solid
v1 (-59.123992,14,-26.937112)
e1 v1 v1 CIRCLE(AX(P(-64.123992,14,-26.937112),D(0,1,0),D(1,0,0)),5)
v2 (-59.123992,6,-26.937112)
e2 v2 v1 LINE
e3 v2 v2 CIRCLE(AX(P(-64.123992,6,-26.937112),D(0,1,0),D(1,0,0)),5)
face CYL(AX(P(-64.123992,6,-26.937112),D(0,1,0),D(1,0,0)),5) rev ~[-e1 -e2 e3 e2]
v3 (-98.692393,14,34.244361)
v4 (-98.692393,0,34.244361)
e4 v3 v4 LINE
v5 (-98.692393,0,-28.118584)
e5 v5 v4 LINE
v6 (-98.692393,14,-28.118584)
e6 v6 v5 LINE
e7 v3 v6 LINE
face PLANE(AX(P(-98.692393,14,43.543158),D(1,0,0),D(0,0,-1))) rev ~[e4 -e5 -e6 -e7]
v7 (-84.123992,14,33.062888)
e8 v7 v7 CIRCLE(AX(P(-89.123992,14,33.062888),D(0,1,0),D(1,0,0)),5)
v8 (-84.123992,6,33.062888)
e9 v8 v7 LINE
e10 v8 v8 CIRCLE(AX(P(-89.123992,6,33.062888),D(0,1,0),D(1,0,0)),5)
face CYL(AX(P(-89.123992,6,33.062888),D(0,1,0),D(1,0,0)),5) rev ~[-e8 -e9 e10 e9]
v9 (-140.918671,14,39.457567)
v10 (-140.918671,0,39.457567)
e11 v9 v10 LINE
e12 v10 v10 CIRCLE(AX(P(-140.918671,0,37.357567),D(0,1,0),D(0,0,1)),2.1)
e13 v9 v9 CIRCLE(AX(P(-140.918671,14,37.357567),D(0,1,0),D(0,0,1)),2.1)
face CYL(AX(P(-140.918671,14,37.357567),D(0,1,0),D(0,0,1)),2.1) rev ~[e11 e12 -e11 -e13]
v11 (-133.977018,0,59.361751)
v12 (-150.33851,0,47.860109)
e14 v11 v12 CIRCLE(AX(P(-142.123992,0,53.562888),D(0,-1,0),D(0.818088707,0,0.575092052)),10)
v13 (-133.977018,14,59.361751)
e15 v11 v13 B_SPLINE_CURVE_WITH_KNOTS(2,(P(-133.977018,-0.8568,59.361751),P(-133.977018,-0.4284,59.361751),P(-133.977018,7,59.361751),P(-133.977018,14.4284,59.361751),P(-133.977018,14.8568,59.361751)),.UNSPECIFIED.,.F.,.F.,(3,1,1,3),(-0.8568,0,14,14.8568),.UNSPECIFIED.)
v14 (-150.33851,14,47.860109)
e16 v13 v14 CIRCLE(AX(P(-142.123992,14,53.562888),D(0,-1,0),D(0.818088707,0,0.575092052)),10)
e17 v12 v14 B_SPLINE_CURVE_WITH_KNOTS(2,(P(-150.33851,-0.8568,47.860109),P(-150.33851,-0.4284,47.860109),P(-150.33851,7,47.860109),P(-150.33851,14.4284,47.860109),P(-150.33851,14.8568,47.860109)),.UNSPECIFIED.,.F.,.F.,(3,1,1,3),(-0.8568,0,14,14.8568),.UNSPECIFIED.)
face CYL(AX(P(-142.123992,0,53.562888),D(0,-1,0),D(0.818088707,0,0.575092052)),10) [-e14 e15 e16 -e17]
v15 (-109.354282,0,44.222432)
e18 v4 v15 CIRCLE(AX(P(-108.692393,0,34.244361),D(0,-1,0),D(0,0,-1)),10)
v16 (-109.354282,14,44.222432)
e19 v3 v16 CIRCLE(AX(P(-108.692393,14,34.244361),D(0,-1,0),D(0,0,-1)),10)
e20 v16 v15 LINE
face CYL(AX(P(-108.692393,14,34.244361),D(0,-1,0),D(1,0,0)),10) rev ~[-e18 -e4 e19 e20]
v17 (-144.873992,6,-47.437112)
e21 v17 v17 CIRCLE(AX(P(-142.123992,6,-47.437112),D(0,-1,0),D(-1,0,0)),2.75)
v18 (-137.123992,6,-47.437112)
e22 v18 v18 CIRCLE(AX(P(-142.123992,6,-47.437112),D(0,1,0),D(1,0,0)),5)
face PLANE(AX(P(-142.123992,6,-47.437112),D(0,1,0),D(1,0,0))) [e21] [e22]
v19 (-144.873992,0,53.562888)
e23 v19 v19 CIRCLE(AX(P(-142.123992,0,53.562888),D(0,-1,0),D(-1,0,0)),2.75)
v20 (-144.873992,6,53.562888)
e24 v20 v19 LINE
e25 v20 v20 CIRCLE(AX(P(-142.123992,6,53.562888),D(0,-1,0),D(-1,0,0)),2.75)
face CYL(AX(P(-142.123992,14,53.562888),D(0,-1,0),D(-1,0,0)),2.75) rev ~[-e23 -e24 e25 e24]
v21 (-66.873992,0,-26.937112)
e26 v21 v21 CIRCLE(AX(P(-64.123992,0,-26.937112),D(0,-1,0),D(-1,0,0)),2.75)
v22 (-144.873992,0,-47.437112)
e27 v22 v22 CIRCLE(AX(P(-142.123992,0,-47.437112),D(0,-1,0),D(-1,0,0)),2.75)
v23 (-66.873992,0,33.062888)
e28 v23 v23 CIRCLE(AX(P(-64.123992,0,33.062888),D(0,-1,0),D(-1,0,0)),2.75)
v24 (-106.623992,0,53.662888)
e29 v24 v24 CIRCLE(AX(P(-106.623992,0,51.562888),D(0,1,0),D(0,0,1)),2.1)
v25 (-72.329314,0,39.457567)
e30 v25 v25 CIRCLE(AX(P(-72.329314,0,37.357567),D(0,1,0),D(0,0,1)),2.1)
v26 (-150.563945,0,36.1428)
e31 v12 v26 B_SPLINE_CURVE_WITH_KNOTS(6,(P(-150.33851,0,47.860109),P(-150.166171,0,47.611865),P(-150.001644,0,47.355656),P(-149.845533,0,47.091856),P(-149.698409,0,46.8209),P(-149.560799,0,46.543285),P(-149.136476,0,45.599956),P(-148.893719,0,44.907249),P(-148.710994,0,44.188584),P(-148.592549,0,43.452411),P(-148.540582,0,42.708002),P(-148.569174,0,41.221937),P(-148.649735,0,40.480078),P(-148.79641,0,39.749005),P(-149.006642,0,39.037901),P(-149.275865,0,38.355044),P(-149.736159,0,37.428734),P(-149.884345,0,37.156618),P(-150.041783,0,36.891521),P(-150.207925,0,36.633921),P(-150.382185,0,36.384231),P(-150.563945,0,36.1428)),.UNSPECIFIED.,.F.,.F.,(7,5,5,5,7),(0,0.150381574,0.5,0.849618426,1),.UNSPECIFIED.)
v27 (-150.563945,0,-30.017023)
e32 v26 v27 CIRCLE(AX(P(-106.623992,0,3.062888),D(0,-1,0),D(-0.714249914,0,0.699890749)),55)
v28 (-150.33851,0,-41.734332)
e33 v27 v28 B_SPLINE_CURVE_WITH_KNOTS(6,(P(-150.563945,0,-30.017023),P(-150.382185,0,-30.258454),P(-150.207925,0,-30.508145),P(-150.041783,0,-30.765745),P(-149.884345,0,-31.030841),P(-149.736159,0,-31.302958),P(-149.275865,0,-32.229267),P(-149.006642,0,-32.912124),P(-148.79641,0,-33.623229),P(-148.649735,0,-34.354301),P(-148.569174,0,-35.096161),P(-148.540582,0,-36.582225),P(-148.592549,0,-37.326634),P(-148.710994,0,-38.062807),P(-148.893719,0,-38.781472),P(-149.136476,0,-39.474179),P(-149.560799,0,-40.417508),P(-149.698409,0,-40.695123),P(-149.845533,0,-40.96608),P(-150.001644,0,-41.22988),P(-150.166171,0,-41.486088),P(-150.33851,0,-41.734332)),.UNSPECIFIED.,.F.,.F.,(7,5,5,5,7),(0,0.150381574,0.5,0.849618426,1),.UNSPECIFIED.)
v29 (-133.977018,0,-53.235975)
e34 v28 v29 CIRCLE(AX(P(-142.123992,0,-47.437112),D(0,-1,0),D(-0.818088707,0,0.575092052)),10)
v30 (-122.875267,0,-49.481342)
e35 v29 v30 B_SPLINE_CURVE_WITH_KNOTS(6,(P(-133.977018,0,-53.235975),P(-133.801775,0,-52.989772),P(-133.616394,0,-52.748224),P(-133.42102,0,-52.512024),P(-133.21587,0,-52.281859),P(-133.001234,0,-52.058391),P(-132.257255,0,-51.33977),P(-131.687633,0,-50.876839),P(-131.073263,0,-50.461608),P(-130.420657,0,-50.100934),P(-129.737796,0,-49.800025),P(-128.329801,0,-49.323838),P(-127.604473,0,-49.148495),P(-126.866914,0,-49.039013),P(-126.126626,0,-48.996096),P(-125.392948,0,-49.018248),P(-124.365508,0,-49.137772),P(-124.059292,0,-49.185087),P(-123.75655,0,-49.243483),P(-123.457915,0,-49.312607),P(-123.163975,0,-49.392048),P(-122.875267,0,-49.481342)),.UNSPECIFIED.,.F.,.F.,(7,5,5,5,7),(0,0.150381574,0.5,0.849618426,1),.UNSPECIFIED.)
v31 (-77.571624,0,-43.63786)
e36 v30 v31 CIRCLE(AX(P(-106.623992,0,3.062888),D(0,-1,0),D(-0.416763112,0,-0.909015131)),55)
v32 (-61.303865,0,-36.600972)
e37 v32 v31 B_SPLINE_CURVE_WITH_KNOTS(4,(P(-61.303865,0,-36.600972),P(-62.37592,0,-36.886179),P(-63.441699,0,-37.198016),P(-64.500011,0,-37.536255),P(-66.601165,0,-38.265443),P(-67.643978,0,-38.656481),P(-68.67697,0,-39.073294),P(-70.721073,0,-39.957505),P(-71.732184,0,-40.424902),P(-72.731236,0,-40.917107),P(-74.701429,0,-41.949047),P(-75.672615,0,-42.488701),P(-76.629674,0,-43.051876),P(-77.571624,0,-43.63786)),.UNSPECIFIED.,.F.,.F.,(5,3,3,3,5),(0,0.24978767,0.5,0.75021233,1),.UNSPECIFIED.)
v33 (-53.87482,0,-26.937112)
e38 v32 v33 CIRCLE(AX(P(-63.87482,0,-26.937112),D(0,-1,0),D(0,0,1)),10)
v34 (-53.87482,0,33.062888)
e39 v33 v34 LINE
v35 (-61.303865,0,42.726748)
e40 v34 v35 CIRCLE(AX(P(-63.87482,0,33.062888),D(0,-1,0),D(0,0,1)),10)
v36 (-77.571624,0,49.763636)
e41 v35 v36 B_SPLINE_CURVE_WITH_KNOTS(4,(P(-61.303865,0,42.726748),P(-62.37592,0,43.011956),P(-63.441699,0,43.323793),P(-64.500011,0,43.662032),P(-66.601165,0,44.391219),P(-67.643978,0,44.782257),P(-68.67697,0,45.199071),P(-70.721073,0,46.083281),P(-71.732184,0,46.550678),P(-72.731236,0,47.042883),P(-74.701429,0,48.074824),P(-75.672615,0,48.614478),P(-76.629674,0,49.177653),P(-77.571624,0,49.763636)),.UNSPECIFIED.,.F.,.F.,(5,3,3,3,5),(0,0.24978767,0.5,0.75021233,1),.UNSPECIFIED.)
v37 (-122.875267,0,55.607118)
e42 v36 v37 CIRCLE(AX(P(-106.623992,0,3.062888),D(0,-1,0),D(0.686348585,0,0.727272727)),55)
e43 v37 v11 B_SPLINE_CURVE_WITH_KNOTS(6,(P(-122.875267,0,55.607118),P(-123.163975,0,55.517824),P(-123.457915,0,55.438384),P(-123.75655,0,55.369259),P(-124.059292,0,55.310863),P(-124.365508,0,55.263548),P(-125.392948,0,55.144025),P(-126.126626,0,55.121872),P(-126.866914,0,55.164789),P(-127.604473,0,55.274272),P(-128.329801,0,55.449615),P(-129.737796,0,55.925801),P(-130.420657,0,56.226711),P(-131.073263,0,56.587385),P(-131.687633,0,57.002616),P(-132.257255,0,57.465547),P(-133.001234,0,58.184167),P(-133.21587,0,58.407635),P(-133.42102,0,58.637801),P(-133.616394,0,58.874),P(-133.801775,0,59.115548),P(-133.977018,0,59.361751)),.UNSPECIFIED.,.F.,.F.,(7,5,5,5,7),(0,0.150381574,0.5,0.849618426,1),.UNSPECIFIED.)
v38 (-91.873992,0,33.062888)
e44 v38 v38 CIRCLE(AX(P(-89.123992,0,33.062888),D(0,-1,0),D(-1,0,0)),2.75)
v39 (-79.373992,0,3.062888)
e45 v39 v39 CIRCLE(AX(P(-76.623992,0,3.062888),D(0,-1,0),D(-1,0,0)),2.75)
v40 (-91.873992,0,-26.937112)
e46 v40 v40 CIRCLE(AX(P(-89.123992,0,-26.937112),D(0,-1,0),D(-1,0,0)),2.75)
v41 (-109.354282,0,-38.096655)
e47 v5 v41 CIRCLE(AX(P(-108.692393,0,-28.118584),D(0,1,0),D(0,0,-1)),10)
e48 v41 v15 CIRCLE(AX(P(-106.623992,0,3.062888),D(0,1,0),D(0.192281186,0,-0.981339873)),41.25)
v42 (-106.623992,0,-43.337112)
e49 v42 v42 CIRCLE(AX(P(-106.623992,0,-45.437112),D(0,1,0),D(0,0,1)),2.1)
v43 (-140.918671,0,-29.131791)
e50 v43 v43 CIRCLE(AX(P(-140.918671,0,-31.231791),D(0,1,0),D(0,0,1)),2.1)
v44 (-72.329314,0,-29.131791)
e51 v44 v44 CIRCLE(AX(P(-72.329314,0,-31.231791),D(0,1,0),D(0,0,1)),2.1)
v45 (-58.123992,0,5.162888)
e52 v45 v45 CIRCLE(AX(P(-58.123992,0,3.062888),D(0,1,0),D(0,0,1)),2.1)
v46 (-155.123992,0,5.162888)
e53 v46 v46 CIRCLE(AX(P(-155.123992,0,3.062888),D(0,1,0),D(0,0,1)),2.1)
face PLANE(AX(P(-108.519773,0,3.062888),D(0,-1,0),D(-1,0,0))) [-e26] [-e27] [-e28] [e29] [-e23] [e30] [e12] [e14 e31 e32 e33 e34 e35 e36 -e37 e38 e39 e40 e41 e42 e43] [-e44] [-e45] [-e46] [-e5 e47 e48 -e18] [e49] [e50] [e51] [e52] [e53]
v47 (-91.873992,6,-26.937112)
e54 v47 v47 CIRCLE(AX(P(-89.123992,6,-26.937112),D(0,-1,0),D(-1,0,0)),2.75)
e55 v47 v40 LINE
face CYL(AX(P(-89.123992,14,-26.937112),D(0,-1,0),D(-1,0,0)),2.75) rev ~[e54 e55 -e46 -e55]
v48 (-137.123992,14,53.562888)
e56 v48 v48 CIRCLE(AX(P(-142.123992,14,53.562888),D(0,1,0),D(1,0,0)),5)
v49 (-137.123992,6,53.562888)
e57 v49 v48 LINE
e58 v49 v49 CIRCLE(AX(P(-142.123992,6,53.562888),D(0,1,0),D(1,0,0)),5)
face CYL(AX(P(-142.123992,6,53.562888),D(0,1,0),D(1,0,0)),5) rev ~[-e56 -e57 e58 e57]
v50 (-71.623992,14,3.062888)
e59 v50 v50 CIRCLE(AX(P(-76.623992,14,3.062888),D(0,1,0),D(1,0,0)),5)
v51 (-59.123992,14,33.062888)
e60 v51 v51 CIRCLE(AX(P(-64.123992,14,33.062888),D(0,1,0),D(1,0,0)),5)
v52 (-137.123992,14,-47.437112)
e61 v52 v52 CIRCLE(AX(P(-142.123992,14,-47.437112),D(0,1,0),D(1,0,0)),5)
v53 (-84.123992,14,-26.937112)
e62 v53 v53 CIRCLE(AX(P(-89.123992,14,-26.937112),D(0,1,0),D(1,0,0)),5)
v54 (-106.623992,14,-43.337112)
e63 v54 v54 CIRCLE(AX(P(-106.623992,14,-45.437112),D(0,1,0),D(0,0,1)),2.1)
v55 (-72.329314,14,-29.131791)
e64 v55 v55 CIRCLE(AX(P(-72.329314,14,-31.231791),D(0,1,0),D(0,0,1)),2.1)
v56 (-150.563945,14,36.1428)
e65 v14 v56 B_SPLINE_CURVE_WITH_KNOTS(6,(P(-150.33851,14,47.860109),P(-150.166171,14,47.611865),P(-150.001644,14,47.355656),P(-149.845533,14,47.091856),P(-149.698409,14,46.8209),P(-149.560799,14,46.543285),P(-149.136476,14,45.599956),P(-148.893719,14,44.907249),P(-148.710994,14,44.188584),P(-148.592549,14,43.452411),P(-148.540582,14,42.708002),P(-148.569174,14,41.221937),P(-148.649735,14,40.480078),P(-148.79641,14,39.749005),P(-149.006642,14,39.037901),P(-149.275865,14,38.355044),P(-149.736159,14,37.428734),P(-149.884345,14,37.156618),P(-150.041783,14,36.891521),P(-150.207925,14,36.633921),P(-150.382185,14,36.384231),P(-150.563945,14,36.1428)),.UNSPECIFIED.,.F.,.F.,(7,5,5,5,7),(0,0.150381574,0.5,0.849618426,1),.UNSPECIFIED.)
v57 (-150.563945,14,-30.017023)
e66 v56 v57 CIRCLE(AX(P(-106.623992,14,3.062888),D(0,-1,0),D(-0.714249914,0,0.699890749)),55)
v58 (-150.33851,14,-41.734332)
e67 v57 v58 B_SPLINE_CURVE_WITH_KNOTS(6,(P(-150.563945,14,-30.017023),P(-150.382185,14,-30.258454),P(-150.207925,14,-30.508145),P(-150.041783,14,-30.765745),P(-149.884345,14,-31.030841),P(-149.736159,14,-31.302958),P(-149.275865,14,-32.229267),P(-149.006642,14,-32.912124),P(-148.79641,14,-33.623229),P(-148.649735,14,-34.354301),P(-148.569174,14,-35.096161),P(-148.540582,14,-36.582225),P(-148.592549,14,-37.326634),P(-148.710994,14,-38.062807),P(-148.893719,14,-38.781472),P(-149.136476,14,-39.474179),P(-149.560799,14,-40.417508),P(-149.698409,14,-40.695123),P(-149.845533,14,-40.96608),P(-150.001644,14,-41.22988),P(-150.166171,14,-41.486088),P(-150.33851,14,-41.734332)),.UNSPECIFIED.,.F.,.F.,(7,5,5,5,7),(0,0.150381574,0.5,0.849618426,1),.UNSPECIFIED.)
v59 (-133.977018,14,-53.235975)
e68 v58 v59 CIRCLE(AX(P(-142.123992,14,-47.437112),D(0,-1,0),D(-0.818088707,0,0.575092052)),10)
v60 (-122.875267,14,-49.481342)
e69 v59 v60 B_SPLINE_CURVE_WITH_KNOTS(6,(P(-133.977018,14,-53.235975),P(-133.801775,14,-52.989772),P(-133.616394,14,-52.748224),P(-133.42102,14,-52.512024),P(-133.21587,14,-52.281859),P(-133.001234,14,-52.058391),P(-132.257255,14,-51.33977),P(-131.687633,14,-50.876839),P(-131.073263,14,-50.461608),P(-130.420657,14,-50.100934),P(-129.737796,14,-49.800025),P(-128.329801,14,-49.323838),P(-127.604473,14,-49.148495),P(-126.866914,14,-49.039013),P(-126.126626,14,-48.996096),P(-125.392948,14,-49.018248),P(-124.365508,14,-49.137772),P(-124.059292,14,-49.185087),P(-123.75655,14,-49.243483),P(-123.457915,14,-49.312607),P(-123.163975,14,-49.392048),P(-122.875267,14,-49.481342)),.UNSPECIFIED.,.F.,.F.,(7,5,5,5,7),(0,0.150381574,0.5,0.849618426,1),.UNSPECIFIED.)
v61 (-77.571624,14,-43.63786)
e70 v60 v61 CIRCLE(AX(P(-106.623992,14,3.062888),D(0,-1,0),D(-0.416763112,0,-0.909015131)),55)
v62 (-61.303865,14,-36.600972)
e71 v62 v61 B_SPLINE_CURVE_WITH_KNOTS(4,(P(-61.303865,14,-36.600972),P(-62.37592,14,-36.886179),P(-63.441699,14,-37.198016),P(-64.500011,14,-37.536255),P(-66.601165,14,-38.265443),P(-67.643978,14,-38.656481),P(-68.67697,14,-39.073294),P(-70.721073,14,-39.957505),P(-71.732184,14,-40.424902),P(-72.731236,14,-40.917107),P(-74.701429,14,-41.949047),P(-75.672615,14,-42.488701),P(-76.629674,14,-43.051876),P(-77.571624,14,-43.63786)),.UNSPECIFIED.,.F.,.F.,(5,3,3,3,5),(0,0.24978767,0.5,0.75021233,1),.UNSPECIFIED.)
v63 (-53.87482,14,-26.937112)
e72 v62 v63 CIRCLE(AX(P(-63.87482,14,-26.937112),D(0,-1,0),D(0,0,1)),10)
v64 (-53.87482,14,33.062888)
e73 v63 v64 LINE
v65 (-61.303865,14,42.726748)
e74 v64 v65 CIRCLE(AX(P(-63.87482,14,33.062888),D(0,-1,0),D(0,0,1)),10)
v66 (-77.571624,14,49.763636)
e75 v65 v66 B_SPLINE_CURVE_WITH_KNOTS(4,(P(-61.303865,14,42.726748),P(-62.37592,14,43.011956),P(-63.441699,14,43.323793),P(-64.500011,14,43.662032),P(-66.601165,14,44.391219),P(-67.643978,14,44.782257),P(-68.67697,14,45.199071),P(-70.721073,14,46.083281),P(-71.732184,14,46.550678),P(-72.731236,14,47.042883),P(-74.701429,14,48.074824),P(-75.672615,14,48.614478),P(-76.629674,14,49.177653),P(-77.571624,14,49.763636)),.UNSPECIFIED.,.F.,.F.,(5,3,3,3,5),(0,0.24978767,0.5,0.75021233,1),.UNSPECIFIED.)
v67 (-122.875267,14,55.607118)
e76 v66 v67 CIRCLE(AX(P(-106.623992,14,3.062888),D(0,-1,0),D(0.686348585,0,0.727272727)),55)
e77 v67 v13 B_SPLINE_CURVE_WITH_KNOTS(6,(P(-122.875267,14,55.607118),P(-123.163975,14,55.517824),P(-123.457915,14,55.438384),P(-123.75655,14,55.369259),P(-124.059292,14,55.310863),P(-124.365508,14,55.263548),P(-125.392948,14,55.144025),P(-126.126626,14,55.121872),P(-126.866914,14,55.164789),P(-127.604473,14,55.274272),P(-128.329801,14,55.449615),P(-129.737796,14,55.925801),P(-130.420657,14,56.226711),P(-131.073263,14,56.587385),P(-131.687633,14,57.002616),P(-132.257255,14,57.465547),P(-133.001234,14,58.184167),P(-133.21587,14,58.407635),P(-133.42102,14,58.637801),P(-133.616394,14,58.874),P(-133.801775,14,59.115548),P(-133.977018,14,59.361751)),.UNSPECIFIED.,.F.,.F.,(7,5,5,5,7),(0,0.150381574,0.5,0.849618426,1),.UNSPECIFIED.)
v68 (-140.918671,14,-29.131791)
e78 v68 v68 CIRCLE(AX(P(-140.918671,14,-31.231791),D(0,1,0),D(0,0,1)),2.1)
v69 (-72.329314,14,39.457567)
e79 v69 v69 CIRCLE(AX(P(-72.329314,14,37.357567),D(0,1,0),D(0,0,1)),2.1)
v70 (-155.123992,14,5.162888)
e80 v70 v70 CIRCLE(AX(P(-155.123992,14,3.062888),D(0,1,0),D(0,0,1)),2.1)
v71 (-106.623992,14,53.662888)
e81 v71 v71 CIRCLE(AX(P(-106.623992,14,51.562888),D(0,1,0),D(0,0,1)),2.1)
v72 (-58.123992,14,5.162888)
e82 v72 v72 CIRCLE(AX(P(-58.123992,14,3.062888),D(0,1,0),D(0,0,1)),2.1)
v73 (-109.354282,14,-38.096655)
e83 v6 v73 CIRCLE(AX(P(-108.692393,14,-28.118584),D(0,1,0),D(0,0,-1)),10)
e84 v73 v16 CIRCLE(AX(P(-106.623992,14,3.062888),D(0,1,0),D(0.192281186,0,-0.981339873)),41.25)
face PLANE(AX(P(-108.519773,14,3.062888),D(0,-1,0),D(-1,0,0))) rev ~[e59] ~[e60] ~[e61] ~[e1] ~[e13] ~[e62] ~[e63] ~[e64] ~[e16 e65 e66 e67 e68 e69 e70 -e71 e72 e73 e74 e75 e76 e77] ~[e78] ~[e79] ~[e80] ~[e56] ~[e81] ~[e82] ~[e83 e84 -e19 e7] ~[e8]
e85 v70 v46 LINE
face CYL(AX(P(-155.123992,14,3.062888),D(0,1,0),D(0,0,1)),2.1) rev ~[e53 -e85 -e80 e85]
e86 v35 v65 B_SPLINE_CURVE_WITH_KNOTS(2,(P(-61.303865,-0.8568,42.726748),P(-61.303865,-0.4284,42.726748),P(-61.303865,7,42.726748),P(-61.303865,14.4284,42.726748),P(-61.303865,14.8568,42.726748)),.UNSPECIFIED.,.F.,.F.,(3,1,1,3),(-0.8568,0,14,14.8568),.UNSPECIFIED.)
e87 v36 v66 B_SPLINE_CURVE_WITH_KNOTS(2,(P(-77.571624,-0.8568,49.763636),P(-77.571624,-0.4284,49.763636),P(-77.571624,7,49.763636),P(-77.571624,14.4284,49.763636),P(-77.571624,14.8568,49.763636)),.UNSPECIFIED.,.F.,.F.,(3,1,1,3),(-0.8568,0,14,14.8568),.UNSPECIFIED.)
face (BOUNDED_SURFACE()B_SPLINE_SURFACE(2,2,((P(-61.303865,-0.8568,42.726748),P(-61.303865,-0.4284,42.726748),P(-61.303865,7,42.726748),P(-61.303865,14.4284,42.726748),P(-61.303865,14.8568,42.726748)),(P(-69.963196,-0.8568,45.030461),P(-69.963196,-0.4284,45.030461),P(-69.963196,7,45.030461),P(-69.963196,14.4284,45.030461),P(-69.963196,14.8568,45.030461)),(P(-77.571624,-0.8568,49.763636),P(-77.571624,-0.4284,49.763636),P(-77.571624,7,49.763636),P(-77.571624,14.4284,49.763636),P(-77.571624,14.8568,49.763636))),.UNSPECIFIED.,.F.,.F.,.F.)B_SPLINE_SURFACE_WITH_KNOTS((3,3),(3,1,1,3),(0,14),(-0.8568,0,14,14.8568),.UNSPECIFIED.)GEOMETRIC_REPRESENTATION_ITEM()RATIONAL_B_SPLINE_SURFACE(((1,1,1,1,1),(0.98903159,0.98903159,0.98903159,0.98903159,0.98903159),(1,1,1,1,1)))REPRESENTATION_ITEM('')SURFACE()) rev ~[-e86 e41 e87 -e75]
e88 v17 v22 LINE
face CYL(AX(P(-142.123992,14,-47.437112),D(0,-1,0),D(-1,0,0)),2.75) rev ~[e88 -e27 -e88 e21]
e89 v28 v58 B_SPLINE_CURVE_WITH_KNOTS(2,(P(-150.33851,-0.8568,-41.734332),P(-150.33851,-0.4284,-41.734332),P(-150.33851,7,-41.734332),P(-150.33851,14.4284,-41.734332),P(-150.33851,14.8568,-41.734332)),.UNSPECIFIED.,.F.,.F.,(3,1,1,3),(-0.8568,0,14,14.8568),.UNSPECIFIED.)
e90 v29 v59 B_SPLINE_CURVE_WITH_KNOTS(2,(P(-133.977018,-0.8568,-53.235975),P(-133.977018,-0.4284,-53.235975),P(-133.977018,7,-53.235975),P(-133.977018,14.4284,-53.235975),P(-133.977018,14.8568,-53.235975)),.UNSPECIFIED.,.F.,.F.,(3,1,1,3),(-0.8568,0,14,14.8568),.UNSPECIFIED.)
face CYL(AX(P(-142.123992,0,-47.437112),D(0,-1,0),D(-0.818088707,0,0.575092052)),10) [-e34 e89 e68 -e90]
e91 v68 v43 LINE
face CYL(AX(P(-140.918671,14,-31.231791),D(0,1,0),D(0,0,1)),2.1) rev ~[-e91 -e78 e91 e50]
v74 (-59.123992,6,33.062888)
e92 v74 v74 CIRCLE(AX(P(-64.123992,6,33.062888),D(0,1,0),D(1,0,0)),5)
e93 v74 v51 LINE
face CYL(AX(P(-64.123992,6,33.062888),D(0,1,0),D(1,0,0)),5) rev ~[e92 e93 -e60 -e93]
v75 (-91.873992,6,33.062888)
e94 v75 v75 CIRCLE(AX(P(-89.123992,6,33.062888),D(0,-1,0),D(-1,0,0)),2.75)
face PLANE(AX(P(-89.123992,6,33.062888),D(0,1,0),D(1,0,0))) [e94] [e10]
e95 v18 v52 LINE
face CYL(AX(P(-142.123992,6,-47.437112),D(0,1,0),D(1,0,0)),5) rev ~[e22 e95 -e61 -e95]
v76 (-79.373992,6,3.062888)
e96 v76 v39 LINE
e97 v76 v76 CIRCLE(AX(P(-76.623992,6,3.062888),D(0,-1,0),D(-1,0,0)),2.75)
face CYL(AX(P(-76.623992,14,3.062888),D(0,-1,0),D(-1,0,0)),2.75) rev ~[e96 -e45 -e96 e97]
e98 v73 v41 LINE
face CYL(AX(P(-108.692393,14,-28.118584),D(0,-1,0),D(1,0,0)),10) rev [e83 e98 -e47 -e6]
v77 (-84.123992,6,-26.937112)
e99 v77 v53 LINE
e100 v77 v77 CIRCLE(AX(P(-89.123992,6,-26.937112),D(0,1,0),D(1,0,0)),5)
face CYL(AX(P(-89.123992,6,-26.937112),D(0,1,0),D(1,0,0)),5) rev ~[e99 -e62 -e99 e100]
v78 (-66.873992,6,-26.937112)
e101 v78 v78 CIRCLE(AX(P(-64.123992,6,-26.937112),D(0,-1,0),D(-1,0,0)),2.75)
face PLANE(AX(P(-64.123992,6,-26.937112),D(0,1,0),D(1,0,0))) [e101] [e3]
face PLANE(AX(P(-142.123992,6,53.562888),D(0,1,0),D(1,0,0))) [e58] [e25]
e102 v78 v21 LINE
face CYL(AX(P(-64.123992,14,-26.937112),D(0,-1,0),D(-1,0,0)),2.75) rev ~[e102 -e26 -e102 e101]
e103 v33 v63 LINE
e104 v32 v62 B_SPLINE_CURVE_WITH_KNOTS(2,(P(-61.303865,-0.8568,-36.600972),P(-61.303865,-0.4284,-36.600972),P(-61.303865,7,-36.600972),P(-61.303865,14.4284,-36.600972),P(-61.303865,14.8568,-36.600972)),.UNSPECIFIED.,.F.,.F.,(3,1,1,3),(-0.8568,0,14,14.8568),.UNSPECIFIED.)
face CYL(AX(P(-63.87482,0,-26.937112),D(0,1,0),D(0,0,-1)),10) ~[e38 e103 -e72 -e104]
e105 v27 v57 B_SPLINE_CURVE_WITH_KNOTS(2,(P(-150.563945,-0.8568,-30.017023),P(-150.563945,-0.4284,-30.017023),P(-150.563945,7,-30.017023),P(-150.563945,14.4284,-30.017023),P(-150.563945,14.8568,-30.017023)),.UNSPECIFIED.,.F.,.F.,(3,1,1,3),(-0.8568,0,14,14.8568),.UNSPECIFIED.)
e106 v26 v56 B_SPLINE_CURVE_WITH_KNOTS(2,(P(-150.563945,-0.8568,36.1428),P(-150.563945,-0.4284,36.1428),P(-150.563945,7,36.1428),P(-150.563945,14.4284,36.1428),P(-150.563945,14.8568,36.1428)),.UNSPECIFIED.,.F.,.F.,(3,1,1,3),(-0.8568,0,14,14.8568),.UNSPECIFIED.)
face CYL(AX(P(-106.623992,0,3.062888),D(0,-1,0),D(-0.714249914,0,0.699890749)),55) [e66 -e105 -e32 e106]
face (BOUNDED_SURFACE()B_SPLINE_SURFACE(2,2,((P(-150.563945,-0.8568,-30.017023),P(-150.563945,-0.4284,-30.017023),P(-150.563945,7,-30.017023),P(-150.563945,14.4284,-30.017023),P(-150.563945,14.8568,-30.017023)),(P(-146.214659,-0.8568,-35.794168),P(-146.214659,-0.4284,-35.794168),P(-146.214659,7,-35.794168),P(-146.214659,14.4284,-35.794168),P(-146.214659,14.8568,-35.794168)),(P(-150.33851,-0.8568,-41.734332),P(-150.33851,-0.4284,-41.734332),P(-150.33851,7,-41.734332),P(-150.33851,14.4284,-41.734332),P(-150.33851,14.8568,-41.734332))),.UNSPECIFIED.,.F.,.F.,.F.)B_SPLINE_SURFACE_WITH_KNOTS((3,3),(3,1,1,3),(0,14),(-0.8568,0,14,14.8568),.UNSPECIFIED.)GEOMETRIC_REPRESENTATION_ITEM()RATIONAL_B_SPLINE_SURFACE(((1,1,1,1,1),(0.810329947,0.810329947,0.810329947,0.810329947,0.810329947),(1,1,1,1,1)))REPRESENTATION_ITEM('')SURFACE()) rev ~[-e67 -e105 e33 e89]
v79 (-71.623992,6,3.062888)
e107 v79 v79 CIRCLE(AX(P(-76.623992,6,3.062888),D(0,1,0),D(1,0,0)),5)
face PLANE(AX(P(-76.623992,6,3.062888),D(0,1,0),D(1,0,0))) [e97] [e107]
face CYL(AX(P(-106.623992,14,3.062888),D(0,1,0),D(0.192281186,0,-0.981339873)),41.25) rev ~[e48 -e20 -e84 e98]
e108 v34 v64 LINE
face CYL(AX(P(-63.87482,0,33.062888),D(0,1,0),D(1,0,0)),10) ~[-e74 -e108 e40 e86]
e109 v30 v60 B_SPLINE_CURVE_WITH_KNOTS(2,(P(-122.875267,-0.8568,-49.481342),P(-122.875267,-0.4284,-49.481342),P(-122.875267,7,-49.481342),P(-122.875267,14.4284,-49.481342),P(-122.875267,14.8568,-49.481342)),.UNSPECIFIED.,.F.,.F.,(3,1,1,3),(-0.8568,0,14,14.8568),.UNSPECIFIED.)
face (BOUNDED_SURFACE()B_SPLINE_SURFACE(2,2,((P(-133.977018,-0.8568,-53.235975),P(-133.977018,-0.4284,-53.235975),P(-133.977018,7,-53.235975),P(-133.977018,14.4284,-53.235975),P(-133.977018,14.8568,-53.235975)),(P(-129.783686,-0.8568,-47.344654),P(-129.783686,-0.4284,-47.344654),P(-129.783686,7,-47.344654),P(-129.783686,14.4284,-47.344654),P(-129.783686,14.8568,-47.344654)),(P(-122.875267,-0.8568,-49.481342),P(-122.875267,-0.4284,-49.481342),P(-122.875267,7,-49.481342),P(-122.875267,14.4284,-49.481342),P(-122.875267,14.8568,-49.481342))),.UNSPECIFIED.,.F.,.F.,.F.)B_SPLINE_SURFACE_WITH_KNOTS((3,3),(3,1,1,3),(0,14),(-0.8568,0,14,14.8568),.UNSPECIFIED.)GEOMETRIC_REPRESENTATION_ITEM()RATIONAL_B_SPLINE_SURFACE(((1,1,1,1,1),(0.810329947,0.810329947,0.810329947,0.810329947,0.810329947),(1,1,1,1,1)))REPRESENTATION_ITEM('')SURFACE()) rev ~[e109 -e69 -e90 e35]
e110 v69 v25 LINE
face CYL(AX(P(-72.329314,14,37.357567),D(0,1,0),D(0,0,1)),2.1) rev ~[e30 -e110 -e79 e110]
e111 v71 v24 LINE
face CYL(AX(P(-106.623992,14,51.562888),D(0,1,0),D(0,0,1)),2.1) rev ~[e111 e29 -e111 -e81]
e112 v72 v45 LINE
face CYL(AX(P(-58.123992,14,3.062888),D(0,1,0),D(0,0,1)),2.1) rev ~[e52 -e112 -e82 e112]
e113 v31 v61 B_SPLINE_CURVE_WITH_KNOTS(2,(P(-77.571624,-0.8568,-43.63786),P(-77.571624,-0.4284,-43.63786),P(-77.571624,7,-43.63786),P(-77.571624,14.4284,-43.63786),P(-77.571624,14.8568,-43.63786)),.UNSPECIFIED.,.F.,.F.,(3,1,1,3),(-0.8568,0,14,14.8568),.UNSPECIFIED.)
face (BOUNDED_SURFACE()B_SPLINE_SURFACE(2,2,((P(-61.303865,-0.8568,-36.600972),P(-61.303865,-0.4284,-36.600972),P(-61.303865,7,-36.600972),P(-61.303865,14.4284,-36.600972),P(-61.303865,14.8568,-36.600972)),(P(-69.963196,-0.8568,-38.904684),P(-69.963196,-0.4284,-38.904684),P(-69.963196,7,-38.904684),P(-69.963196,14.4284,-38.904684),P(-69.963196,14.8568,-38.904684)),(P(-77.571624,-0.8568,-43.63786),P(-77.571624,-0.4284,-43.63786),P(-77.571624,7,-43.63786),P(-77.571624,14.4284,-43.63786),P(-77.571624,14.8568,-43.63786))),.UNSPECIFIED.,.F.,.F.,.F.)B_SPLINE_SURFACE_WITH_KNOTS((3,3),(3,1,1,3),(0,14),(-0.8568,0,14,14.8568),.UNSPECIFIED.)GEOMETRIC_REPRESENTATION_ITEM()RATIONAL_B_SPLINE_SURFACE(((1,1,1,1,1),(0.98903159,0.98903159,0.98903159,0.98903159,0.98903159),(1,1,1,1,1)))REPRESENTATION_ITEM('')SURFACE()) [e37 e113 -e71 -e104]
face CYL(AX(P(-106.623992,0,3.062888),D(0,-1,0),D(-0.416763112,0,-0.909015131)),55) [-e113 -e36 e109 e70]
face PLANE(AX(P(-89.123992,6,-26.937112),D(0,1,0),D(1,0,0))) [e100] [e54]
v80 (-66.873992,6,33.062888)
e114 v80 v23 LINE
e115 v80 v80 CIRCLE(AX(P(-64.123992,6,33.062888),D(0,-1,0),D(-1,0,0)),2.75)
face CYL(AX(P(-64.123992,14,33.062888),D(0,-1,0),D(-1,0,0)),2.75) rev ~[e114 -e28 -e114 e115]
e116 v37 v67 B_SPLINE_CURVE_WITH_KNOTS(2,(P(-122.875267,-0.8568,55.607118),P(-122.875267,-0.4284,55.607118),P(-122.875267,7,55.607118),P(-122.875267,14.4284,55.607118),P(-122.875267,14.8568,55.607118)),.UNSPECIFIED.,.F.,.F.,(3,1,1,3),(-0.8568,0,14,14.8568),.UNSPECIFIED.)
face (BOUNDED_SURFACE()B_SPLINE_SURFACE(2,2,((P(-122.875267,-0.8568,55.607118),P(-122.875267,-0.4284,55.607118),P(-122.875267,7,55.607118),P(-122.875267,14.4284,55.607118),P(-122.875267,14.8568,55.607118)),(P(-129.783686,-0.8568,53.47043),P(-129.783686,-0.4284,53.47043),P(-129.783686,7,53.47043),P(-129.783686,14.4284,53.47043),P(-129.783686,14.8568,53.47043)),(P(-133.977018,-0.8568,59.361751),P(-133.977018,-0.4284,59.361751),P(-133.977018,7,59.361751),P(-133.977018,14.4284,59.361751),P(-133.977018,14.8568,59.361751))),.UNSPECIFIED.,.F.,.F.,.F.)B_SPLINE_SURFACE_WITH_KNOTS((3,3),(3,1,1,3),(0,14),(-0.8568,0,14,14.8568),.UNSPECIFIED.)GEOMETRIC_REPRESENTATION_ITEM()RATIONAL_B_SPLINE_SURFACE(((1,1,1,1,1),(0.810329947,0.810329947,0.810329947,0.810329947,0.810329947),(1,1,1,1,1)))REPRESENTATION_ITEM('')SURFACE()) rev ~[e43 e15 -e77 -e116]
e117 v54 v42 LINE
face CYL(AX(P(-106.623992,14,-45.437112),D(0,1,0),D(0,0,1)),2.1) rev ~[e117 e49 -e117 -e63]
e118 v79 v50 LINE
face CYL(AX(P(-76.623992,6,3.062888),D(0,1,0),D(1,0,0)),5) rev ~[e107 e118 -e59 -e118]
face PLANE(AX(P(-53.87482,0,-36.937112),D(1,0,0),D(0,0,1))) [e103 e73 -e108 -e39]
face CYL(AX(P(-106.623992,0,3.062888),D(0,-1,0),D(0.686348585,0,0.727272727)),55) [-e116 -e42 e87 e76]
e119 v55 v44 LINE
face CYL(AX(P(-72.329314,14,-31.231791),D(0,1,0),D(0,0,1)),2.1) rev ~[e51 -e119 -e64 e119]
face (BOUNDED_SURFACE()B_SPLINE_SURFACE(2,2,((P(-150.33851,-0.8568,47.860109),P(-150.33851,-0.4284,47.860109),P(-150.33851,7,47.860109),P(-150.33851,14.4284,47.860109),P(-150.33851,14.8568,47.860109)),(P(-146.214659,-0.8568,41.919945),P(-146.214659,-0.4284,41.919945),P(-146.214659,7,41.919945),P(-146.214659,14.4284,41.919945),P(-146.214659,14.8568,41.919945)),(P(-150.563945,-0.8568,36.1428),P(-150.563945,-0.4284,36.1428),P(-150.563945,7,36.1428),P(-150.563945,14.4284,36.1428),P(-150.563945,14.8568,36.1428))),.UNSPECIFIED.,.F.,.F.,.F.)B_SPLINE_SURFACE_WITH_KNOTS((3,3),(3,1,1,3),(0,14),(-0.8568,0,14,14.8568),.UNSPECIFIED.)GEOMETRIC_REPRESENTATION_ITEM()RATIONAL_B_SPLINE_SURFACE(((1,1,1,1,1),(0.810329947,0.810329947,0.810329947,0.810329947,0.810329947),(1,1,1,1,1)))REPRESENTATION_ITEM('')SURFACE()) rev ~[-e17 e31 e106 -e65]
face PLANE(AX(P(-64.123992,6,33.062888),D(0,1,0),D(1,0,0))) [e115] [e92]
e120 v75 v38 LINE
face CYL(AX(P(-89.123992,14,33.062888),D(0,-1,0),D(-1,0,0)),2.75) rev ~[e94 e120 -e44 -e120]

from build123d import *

# Parameters (mm, degrees)
BOSS_EXTRUDE1_DEPTH                                 = 14
FILLET1_R                                           = 10
FILLET2_R                                           = 60
SKETCH2_R                                           = 2.1
SKETCH2_R_2                                         = 3.062888277
CUT_EXTRUDE1_DEPTH                                  = 175.237067632
SKETCH3_R                                           = 2.5
CUT_EXTRUDE2_DEPTH                                  = 10
CBORE_FOR_M5_HEX_SOCKET_HEAD_CAP_SCREW1_D           = 5.5
CBORE_FOR_M5_HEX_SOCKET_HEAD_CAP_SCREW1_DEPTH       = 25
CBORE_FOR_M5_HEX_SOCKET_HEAD_CAP_SCREW1_CBORE_D     = 10
CBORE_FOR_M5_HEX_SOCKET_HEAD_CAP_SCREW1_CBORE_DEPTH = 8
CBORE_FOR_M5_HEX_SOCKET_HEAD_CAP_SCREW1_TIP         = 1.652366702
CUT_EXTRUDE3_DEPTH                                  = 25
FILLET3_R                                           = 10
CBORE_FOR_M5_HEX_SOCKET_HEAD_CAP_SCREW2_D           = 5.5
CBORE_FOR_M5_HEX_SOCKET_HEAD_CAP_SCREW2_DEPTH       = 25
CBORE_FOR_M5_HEX_SOCKET_HEAD_CAP_SCREW2_CBORE_D     = 10
CBORE_FOR_M5_HEX_SOCKET_HEAD_CAP_SCREW2_CBORE_DEPTH = 8
CBORE_FOR_M5_HEX_SOCKET_HEAD_CAP_SCREW2_TIP         = 1.652366702


with BuildPart() as part:
    # Sketch1 → Boss-Extrude1 (new body)
    with BuildSketch(Plane(origin=(0, 0, 0), x_dir=(1, 0, 0), z_dir=(0, 1, 0))):
        with BuildLine():
            Line((-68.874820235, 36.937111723), (-53.874820235, 36.937111723))
            Line((-53.874820235, 36.937111723), (-53.874820235, -43.062888277))
            Line((-53.874820235, -43.062888277), (-68.874820235, -43.062888277))
            ThreePointArc((-68.874820235, -43.062888277), (-97.683039558, -57.331289415), (-129.545963567, -53.058720487))
            Line((-129.545963567, -53.058720487), (-133.943104784, -59.313808797))
            ThreePointArc((-133.943104784, -59.313808797), (-147.874912369, -61.743775343), (-150.304878915, -47.811967758))
            Line((-150.304878915, -47.811967758), (-145.907737698, -41.556879448))
            ThreePointArc((-145.907737698, -41.556879448), (-161.623992411, -3.062888277), (-145.907737698, 35.431102894))
            Line((-145.907737698, 35.431102894), (-150.304878915, 41.686191203))
            ThreePointArc((-150.304878915, 41.686191203), (-147.874912369, 55.617998788), (-133.943104784, 53.188032242))
            Line((-133.943104784, 53.188032242), (-129.545963567, 46.932943933))
            ThreePointArc((-129.545963567, 46.932943933), (-97.683039558, 51.205512861), (-68.874820235, 36.937111723))
        make_face()
    extrude(amount=BOSS_EXTRUDE1_DEPTH)

    # Fillet1
    fillet1_edges = [part.edges().sort_by_distance(p)[0] for p in [
        (-53.874820235, 7, 43.062888277),
        (-129.545963567, 7, 53.058720487),
        (-145.907737698, 7, 41.556879448),
        (-129.545963567, 7, -46.932943933),
        (-53.874820235, 7, -36.937111723),
        (-145.907737698, 7, -35.431102894),
    ]]
    fillet(fillet1_edges, radius=FILLET1_R)

    # Fillet2
    fillet2_edges = [part.edges().sort_by_distance(p)[0] for p in [
        (-68.874820235, 7, 43.062888277),
        (-68.874820235, 7, -36.937111723),
    ]]
    fillet(fillet2_edges, radius=FILLET2_R)

    # Sketch2 → Cut-Extrude1 (cut, through all)
    with BuildSketch(Plane(origin=(0, 14, 0), x_dir=(1, 0, 0), z_dir=(0, 1, 0))):
        with Locations(Location((-106.623992411, 45.437111723, 0), (0, 0, 270))):
            Circle(SKETCH2_R)
        with Locations(Location((-72.329313524, 31.23179061, 0), (0, 0, 270))):
            Circle(SKETCH2_R)
        with Locations(Location((-58.123992411, -3.062888277, 0), (0, 0, 270))):
            Circle(SKETCH2_R)
        with Locations(Location((-72.329313524, -37.357567165, 0), (0, 0, 270))):
            Circle(SKETCH2_R)
        with Locations(Location((-106.623992411, -51.562888277, 0), (0, 0, 270))):
            Circle(SKETCH2_R)
        with Locations(Location((-140.918671299, -37.357567165, 0), (0, 0, 270))):
            Circle(SKETCH2_R)
        with Locations(Location((-155.123992411, -3.062888277, 0), (0, 0, 270))):
            Circle(SKETCH2_R)
        with Locations(Location((-140.918671299, 31.23179061, 0), (0, 0, 270))):
            Circle(SKETCH2_R)
        with Locations(Location((-106.623992411, -3.062888277, 0), (0, 0, 270))):
            Circle(SKETCH2_R_2)
    extrude(amount=-CUT_EXTRUDE1_DEPTH, mode=Mode.SUBTRACT)

    # Sketch3 → Cut-Extrude2 (cut)
    with BuildSketch(Plane(origin=(0, 14, 0), x_dir=(1, 0, 0), z_dir=(0, 1, 0))):
        with Locations(Location((-142.12399185, 47.437111723, 0), (0, 0, 270))):
            Circle(SKETCH3_R)
        with Locations(Location((-142.12399185, -53.562888277, 0), (0, 0, 270))):
            Circle(SKETCH3_R)
    extrude(amount=-CUT_EXTRUDE2_DEPTH, mode=Mode.SUBTRACT)

    # CBORE for M5 Hex Socket Head Cap Screw1
    with Locations(Plane(origin=(0, 14, 0), x_dir=(1, 0, 0), z_dir=(0, 1, 0))):
        with Locations((-89.123992411, 26.937111723), (-64.123992411, 26.937111723), (-76.623992411, -3.062888277), (-89.123992411, -33.062888277), (-64.123992411, -33.062888277)):
            CounterBoreHole(CBORE_FOR_M5_HEX_SOCKET_HEAD_CAP_SCREW1_D / 2, CBORE_FOR_M5_HEX_SOCKET_HEAD_CAP_SCREW1_CBORE_D / 2, CBORE_FOR_M5_HEX_SOCKET_HEAD_CAP_SCREW1_CBORE_DEPTH, depth=CBORE_FOR_M5_HEX_SOCKET_HEAD_CAP_SCREW1_DEPTH)
            with Locations((0, 0, -(CBORE_FOR_M5_HEX_SOCKET_HEAD_CAP_SCREW1_DEPTH + CBORE_FOR_M5_HEX_SOCKET_HEAD_CAP_SCREW1_TIP / 2))):  # 118° drill point
                Cone(0, CBORE_FOR_M5_HEX_SOCKET_HEAD_CAP_SCREW1_D / 2, CBORE_FOR_M5_HEX_SOCKET_HEAD_CAP_SCREW1_TIP, mode=Mode.SUBTRACT)

    # Sketch7 → Cut-Extrude3 (cut)
    with BuildSketch(Plane(origin=(0, 14, 0), x_dir=(1, 0, 0), z_dir=(0, 1, 0))):
        with BuildLine():
            Line((-98.692393489, -43.543158021), (-98.692393489, 37.417381467))
            ThreePointArc((-98.692393489, 37.417381467), (-147.873992411, -3.062888277), (-98.692393489, -43.543158021))
        make_face()
    extrude(amount=-CUT_EXTRUDE3_DEPTH, mode=Mode.SUBTRACT)

    # Fillet3
    fillet3_edges = [part.edges().sort_by_distance(p)[0] for p in [
        (-98.692393489, 7, 43.543158021),
        (-98.692393489, 7, -37.417381467),
    ]]
    fillet(fillet3_edges, radius=FILLET3_R)

    # CBORE for M5 Hex Socket Head Cap Screw2
    with Locations(Plane(origin=(0, 14, 0), x_dir=(1, 0, 0), z_dir=(0, 1, 0))):
        with Locations((-142.12399185, 47.437111723), (-142.12399185, -53.562888277)):
            CounterBoreHole(CBORE_FOR_M5_HEX_SOCKET_HEAD_CAP_SCREW2_D / 2, CBORE_FOR_M5_HEX_SOCKET_HEAD_CAP_SCREW2_CBORE_D / 2, CBORE_FOR_M5_HEX_SOCKET_HEAD_CAP_SCREW2_CBORE_DEPTH, depth=CBORE_FOR_M5_HEX_SOCKET_HEAD_CAP_SCREW2_DEPTH)
            with Locations((0, 0, -(CBORE_FOR_M5_HEX_SOCKET_HEAD_CAP_SCREW2_DEPTH + CBORE_FOR_M5_HEX_SOCKET_HEAD_CAP_SCREW2_TIP / 2))):  # 118° drill point
                Cone(0, CBORE_FOR_M5_HEX_SOCKET_HEAD_CAP_SCREW2_D / 2, CBORE_FOR_M5_HEX_SOCKET_HEAD_CAP_SCREW2_TIP, mode=Mode.SUBTRACT)


solid = part.part
